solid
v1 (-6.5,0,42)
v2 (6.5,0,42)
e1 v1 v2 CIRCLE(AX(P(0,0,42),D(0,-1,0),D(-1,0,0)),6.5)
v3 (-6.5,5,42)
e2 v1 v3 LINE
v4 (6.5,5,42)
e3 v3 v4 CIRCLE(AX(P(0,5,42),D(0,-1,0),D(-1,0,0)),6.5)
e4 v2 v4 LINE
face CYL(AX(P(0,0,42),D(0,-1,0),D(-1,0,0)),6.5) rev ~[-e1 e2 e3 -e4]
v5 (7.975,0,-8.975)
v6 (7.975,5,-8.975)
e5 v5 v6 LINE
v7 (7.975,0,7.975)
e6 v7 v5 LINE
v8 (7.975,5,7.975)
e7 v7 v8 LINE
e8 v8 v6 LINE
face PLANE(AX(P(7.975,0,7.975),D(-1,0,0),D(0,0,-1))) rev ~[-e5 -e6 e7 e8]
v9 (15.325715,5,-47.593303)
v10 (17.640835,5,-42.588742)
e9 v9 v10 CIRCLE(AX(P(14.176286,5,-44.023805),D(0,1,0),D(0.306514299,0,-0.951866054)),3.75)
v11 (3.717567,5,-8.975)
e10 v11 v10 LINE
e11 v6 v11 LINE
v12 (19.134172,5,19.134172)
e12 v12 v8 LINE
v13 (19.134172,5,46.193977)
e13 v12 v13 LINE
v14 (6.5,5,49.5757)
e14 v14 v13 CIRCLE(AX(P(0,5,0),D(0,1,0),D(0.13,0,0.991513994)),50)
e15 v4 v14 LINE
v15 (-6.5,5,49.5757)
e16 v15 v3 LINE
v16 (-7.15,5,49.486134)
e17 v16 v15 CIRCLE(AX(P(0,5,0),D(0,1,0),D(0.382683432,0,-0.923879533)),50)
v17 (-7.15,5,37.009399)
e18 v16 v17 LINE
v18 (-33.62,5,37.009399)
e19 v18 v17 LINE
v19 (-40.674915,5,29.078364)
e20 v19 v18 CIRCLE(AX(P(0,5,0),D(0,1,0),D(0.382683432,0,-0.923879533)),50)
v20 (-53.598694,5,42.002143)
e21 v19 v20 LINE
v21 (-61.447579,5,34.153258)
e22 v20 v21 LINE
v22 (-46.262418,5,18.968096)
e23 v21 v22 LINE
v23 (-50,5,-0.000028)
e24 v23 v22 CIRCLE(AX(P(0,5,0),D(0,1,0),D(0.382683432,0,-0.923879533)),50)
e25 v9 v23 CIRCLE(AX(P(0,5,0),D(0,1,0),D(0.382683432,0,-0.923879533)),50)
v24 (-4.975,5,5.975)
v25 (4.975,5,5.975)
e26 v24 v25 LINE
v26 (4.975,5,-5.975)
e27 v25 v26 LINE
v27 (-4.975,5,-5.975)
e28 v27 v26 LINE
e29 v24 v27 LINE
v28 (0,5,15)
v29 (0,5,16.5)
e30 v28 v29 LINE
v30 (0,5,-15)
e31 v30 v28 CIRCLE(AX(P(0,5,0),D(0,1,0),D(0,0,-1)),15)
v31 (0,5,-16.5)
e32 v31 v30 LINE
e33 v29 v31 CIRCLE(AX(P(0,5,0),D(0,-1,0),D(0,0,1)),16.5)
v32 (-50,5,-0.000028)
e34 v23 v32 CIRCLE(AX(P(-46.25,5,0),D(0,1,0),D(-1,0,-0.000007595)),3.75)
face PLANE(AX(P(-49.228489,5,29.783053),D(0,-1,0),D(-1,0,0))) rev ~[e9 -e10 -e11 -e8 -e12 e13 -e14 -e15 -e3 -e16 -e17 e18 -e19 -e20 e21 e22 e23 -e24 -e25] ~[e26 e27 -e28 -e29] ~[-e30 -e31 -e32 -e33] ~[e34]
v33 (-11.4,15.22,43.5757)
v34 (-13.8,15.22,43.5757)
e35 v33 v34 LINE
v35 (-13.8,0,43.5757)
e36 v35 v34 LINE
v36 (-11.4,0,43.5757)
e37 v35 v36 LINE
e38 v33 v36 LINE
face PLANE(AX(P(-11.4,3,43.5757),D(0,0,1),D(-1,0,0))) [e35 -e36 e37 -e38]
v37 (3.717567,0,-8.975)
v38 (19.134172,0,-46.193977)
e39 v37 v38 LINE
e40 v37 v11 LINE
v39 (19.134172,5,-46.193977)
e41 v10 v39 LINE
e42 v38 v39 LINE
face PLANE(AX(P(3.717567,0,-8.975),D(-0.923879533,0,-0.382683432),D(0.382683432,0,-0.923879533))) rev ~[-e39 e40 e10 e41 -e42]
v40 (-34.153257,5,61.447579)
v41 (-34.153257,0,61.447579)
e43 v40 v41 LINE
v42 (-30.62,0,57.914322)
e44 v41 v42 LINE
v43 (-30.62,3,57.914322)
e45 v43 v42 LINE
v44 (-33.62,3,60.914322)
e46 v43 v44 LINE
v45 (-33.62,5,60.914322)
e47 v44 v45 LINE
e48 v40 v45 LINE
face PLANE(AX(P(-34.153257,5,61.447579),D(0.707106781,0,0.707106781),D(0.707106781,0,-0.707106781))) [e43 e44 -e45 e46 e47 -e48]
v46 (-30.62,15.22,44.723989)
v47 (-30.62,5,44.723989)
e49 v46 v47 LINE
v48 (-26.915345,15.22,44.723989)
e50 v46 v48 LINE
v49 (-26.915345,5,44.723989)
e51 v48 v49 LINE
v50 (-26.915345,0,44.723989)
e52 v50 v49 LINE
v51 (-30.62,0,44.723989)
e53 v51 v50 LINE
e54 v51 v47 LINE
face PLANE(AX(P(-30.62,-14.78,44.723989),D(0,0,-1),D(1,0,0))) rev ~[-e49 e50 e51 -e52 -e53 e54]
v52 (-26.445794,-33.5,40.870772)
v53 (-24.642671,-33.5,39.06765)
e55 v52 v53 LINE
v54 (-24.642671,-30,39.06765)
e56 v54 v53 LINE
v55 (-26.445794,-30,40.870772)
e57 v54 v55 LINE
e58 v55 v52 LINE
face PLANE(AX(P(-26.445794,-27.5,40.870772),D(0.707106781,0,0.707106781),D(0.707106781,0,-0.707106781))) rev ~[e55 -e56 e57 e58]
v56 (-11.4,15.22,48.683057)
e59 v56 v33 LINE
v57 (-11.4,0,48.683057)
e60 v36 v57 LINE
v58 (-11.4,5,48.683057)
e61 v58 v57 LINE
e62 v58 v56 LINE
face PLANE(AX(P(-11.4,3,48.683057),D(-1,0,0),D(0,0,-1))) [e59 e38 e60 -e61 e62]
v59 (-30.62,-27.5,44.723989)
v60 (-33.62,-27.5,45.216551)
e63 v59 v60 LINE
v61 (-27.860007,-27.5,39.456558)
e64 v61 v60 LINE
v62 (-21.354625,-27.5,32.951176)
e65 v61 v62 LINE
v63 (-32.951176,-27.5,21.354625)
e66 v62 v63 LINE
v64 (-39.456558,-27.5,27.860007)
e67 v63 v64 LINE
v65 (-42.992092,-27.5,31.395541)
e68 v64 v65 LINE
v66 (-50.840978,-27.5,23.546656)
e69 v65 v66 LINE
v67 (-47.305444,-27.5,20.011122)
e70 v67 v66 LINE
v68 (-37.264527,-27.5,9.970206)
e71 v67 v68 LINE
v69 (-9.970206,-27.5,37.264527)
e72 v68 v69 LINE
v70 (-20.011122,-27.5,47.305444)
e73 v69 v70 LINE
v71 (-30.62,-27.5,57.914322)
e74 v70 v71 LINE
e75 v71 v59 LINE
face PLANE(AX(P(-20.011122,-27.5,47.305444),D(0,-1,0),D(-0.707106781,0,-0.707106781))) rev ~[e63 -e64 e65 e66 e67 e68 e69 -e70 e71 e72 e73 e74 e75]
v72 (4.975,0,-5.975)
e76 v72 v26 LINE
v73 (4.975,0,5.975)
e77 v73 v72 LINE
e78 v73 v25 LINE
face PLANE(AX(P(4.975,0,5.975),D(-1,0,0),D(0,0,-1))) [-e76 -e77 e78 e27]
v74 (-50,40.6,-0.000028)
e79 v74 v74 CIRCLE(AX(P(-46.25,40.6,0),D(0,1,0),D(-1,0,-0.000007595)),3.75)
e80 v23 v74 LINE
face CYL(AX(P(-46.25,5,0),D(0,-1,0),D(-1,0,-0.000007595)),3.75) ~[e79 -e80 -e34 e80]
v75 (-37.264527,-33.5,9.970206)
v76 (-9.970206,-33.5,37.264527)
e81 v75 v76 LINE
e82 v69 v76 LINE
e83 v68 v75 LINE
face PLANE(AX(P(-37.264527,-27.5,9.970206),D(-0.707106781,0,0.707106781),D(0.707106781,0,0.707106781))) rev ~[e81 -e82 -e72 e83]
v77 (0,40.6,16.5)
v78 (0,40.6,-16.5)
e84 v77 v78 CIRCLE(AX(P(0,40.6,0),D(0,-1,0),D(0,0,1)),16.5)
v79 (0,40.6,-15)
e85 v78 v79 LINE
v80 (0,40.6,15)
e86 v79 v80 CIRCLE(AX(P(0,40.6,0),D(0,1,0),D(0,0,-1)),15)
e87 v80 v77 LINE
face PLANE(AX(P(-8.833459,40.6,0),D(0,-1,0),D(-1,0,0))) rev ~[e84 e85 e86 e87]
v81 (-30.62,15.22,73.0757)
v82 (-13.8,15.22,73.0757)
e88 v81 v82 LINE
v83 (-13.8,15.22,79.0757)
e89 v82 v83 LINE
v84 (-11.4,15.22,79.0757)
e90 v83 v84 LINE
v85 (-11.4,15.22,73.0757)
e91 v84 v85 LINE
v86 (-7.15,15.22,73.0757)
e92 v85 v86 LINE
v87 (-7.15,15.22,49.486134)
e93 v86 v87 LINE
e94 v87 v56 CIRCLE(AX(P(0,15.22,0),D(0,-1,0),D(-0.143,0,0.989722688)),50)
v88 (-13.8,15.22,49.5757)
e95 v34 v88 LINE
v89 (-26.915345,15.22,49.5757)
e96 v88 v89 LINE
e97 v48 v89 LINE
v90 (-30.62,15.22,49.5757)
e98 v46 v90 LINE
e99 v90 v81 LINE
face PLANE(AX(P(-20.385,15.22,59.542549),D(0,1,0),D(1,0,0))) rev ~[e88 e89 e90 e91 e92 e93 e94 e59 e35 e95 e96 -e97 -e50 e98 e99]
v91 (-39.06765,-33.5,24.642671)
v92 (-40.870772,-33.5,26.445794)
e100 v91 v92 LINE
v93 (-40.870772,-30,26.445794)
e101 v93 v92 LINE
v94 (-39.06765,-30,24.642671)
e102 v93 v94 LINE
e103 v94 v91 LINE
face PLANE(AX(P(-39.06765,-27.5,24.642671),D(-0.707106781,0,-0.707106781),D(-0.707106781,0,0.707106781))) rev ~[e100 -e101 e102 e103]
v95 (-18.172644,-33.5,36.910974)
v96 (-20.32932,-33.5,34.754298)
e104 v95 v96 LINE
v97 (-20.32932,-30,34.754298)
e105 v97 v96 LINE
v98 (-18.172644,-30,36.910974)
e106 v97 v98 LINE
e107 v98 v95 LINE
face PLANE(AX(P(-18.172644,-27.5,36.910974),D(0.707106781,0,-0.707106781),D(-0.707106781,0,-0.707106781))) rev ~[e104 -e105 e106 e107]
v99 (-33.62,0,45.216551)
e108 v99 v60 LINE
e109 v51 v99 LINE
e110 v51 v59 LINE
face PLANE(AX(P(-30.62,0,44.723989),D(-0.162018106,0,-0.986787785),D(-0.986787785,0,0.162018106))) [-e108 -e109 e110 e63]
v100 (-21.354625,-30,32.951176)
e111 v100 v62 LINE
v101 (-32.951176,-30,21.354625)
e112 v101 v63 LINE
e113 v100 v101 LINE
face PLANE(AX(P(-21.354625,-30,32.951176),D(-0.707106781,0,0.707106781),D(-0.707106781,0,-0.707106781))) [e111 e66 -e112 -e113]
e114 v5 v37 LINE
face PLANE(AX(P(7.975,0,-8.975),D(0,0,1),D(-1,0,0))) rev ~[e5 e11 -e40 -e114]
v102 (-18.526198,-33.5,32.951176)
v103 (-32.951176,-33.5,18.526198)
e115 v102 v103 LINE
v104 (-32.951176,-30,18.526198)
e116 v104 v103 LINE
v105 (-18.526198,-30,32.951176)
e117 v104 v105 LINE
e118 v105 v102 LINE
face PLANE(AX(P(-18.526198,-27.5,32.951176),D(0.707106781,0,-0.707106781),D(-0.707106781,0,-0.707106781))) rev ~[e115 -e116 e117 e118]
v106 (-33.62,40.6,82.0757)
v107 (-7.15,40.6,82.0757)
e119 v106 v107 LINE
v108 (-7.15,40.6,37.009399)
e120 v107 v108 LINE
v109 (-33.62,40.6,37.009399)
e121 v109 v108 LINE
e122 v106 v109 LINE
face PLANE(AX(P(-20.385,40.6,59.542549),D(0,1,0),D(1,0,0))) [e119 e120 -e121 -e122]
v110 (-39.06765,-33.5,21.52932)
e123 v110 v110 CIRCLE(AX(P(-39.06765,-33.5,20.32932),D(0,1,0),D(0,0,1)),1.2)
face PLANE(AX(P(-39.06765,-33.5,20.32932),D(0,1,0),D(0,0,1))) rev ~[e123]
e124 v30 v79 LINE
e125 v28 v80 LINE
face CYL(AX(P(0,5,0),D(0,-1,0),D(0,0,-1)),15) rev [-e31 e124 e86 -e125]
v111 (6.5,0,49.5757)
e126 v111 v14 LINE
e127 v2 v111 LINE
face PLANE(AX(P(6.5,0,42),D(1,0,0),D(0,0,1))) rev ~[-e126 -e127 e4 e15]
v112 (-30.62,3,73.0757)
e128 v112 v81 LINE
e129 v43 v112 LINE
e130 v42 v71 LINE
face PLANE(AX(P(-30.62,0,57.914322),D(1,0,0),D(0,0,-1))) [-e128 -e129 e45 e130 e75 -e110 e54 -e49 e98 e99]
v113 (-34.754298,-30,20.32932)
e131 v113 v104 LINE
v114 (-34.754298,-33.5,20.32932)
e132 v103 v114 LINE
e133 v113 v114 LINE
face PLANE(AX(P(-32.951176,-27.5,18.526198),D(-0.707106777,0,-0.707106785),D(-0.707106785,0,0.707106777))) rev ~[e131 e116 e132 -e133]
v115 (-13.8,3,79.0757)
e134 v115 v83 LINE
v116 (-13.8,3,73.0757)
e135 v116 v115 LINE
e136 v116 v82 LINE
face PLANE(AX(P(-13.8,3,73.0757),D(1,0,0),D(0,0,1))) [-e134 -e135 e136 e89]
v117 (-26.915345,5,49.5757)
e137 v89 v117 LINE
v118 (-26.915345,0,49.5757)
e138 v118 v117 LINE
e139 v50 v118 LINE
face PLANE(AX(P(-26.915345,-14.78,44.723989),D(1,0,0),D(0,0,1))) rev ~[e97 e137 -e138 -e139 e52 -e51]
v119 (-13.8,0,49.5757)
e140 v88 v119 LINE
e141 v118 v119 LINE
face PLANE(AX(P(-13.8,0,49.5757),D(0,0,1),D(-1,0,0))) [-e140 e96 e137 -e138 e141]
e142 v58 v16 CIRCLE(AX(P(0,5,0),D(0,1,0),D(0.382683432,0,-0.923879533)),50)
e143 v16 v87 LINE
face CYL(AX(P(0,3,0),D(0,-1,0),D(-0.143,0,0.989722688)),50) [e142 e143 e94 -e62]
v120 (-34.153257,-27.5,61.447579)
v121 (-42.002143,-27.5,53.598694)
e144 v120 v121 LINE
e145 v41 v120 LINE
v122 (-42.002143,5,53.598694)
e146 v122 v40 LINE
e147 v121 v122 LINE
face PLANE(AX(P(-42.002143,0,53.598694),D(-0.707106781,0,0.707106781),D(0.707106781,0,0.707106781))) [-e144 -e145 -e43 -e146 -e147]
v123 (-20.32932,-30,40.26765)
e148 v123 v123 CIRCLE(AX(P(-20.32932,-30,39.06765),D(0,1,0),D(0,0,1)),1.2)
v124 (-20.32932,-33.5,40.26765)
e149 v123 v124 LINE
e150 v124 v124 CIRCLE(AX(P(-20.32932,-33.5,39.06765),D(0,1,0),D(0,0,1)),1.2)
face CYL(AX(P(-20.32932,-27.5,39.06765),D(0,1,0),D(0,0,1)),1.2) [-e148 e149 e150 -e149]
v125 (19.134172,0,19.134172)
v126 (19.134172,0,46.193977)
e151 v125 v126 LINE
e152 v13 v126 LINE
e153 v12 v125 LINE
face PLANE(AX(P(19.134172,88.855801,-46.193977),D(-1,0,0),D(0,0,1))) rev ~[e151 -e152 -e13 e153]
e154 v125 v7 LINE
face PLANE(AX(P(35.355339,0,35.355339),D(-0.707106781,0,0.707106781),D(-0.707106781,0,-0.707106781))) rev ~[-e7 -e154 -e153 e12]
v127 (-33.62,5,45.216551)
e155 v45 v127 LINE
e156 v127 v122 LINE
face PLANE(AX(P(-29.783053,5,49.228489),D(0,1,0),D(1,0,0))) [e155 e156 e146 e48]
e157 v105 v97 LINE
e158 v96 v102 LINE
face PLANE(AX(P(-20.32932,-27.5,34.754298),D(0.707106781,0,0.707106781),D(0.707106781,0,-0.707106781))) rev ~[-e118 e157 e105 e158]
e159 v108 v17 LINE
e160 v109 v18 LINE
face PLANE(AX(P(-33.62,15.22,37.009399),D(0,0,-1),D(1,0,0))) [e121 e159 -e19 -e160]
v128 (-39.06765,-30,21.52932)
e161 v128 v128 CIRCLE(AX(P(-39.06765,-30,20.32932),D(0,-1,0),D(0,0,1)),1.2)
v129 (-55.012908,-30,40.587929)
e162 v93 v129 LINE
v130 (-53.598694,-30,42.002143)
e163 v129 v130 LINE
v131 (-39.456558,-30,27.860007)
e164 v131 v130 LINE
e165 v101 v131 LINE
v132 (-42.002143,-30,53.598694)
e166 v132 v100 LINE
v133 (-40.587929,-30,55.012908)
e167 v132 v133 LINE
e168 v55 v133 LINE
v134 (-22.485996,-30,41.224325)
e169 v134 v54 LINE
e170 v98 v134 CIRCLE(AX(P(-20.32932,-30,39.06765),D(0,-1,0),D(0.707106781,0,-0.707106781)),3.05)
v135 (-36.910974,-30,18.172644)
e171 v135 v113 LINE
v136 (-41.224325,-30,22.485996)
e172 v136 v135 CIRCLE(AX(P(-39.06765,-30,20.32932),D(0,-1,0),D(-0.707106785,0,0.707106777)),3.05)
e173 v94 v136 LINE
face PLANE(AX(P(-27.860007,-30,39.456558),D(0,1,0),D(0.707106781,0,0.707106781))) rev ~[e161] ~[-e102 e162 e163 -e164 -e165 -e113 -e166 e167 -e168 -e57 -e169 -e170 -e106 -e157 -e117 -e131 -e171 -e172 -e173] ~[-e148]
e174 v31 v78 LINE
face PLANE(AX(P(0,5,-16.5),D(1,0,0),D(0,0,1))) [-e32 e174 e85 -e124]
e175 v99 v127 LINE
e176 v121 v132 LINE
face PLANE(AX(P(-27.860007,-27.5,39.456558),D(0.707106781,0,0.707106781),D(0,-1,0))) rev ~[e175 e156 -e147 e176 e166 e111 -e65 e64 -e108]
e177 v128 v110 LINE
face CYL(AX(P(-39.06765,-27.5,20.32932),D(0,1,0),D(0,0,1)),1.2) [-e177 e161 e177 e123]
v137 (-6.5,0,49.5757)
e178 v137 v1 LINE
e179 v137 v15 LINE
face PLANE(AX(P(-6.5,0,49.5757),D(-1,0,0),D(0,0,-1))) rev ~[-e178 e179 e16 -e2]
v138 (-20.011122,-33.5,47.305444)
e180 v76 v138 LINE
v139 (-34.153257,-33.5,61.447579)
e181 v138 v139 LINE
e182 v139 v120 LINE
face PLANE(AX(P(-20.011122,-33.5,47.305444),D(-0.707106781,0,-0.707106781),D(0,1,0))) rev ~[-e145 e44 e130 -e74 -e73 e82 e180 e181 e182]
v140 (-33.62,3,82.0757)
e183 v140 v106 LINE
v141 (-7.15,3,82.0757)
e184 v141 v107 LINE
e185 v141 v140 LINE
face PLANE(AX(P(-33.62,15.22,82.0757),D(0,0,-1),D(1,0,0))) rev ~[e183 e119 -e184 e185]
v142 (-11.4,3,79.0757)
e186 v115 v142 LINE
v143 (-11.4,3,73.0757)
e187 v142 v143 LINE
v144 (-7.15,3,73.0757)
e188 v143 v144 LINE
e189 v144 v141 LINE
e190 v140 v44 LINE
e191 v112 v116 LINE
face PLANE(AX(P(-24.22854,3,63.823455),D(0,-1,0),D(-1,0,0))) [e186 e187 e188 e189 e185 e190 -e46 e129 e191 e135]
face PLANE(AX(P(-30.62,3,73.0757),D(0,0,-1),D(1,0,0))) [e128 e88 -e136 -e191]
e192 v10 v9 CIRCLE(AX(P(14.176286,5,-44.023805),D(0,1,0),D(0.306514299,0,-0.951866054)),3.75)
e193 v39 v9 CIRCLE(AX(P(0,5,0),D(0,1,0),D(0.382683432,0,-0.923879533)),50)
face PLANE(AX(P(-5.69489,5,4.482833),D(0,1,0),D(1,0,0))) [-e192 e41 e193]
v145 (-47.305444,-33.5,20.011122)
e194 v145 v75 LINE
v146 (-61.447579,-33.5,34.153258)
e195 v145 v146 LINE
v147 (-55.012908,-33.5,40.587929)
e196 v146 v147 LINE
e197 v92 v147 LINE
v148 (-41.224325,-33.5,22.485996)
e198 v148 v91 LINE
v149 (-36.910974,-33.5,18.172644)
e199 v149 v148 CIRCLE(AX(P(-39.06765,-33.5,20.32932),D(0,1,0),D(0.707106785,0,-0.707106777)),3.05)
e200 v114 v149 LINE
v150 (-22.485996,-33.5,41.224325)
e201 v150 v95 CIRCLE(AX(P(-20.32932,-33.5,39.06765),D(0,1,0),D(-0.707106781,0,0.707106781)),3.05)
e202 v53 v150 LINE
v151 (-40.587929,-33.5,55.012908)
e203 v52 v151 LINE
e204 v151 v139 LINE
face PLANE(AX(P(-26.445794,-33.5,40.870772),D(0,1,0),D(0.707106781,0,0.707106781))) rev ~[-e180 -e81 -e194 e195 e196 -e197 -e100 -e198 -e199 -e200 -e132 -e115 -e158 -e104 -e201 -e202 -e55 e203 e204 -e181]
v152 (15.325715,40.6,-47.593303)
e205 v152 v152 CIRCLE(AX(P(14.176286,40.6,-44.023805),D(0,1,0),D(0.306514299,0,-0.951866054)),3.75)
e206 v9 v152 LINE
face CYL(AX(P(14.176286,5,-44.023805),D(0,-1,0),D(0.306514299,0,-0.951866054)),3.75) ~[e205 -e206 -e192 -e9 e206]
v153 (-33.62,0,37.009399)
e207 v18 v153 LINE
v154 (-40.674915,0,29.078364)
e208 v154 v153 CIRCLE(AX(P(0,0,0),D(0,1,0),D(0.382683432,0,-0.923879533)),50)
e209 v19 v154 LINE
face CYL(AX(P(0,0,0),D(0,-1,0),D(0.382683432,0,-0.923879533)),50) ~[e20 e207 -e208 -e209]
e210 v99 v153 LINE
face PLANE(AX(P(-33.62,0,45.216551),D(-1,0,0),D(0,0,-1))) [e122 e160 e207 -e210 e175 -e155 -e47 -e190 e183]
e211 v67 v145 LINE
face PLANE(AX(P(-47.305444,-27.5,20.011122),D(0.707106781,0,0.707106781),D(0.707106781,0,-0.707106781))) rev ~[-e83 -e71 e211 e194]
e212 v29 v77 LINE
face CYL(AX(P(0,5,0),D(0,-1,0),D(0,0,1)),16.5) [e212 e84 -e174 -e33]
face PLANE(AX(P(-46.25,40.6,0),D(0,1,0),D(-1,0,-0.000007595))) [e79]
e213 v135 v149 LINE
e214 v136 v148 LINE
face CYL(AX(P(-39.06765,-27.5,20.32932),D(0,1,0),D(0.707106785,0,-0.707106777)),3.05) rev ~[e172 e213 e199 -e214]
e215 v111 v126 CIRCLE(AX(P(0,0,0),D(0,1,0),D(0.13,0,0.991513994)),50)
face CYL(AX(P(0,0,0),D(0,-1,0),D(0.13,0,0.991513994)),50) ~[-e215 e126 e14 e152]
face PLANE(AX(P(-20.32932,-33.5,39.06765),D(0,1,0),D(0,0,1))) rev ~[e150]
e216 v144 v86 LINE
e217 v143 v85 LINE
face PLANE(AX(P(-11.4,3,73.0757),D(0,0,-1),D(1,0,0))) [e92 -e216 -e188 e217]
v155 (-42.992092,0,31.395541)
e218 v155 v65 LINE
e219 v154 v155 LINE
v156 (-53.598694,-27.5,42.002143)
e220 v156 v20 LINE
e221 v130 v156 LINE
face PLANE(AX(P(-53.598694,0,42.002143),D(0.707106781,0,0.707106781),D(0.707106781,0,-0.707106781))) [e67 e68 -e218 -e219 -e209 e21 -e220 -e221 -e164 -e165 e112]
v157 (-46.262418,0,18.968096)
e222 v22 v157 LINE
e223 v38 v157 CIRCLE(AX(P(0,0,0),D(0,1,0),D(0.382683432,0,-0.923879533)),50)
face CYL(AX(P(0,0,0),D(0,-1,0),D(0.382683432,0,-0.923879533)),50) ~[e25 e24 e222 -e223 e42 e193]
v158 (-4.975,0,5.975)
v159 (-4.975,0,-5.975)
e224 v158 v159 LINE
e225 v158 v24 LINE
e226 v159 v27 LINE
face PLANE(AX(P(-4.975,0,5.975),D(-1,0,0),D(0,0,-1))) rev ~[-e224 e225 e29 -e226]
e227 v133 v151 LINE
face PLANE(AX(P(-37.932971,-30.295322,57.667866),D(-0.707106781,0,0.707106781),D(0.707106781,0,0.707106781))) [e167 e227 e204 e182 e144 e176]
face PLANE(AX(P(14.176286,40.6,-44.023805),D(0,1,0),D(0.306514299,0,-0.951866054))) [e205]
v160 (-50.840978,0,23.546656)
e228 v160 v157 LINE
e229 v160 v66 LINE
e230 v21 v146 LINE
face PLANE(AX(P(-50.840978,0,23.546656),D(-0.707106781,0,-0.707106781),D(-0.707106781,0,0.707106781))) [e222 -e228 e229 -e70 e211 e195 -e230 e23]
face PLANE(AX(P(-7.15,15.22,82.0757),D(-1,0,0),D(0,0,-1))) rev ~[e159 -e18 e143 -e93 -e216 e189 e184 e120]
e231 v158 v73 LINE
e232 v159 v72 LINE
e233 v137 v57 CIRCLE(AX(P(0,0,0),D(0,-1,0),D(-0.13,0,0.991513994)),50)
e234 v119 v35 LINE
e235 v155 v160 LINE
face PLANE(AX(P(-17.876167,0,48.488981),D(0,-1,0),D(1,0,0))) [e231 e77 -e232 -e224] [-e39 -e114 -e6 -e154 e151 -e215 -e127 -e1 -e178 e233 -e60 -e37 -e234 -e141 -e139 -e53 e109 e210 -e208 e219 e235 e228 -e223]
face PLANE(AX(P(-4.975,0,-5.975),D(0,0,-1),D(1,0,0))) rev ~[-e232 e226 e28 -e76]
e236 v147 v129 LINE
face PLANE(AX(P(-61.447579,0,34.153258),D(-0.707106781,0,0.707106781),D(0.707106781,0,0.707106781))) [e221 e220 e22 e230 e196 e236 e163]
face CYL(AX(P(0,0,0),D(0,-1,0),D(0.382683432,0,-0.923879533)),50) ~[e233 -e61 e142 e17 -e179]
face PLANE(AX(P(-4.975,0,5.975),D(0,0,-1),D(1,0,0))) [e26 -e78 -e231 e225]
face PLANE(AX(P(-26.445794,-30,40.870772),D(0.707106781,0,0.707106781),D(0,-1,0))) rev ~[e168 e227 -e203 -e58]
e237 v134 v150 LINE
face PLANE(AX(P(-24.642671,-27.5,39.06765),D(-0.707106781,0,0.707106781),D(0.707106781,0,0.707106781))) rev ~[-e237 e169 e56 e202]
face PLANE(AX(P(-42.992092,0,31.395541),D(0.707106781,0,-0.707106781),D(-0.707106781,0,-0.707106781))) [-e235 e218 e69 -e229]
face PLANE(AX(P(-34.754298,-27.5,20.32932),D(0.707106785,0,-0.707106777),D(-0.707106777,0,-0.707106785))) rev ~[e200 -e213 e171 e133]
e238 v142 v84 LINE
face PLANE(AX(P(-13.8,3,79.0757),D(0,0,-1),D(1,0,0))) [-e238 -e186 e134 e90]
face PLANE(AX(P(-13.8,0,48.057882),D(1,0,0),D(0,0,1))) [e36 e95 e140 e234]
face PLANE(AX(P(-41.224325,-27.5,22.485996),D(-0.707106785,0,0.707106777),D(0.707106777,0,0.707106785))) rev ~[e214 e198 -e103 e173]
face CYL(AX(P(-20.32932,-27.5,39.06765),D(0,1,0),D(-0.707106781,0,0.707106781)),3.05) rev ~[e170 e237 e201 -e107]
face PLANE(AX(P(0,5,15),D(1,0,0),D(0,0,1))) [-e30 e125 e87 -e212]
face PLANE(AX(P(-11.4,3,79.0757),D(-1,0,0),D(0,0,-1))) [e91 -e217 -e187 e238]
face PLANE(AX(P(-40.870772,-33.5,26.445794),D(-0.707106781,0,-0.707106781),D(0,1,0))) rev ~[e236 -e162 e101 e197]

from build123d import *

# Parameters (mm, degrees)
SKETCH1_W               = 9.95
SKETCH1_H               = 11.95
BOSS_EXTRUDE2_DEPTH     = 5
BOSS_EXTRUDE6_DEPTH     = 35.6
SKETCH8_R               = 3.75
BOSS_EXTRUDE8_DEPTH     = 35.6
BOSS_EXTRUDE9_DEPTH     = 12.22
CUT_EXTRUDE1_DEPTH      = 104.199711628
CUT_EXTRUDE1_DEPTH_BACK = 104.199711628
SKETCH10_W              = 26.47
SKETCH10_H              = 45.066300886
BOSS_EXTRUDE10_DEPTH    = 25.38
CUT_EXTRUDE2_DEPTH      = 104.199711628
CUT_EXTRUDE2_DEPTH_BACK = 12.22
SKETCH11_W              = 3.704655087
SKETCH11_H              = 4.851710635
SKETCH14_R              = 1.2
SKETCH14_R_2            = 1.199999993
BOSS_EXTRUDE11_DEPTH    = 2.5
BOSS_EXTRUDE12_DEPTH    = 6
SKETCH17_R              = 1.199999993
BOSS_EXTRUDE13_DEPTH    = 6
CUT_EXTRUDE3_DEPTH      = 122.35580118
CUT_EXTRUDE3_DEPTH_BACK = 122.35580118
SKETCH18_W              = 20
SKETCH18_H              = 100
BOSS_EXTRUDE14_DEPTH    = 20
BOSS_EXTRUDE15_DEPTH    = 5
CUT_EXTRUDE4_START      = 30
CUT_EXTRUDE4_DEPTH      = 30
BOSS_EXTRUDE16_START    = 3
BOSS_EXTRUDE16_DEPTH    = 3
BOSS_EXTRUDE17_START    = 3
BOSS_EXTRUDE17_DEPTH    = 3
BOSS_EXTRUDE18_DEPTH    = 27.5


with BuildPart() as part:
    # Sketch1 → Boss-Extrude2 (new body)
    with BuildSketch(Plane(origin=(0, 0, 0), x_dir=(1, 0, 0), z_dir=(0, 1, 0))):
        with BuildLine():
            Line((35.355339059, -35.355339059), (7.975, -7.975))
            Line((7.975, -7.975), (7.975, 8.975))
            Line((7.975, 8.975), (3.717566722, 8.975))
            Line((3.717566722, 8.975), (19.134171618, 46.193976626))
            ThreePointArc((19.134171618, 46.193976626), (-48.299723588, 12.928136036), (-6.5, -49.575699692))
            Line((-6.5, -49.575699692), (-6.5, -42))
            ThreePointArc((-6.5, -42), (0, -35.5), (6.5, -42))
            Line((6.5, -42), (6.5, -49.575699692))
            ThreePointArc((6.5, -49.575699692), (22.102534155, -44.84950372), (35.355339059, -35.355339059))
        make_face()
        Rectangle(SKETCH1_W, SKETCH1_H, mode=Mode.SUBTRACT)
    extrude(amount=BOSS_EXTRUDE2_DEPTH)

    # Sketch4 → Boss-Extrude6 (add)
    with BuildSketch(Plane(origin=(0, 5, 0), x_dir=(1, 0, 0), z_dir=(0, 1, 0))):
        with BuildLine():
            Line((0, 16.5), (0, 15))
            ThreePointArc((0, 15), (-15, 0), (0, -15))
            Line((0, -15), (0, -16.5))
            ThreePointArc((0, -16.5), (-16.5, 0), (0, 16.5))
        make_face()
    extrude(amount=BOSS_EXTRUDE6_DEPTH)

    # Sketch8 → Boss-Extrude8 (add)
    with BuildSketch(Plane(origin=(0, 5, 0), x_dir=(1, 0, 0), z_dir=(0, 1, 0))):
        with Locations(Location((14.176286342, 44.023804987, 0), (0, 0, 72.150709005))):
            Circle(SKETCH8_R)
        with Locations(Location((29.944361597, -35.247662455, 0), (0, 0, 45))):
            Circle(SKETCH8_R)
        with Locations(Location((-46.25, 0, 0), (0, 0, 179.999564815))):
            Circle(SKETCH8_R)
    extrude(amount=BOSS_EXTRUDE8_DEPTH)

    # Sketch9 → Boss-Extrude9 (add)
    with BuildSketch(Plane(origin=(0, 3, 0), x_dir=(-1, 0, 0), z_dir=(0, -1, 0))):
        with BuildLine():
            Line((11.4, -79.075699692), (11.4, -73.075699692))
            Line((11.4, -73.075699692), (7.15, -73.075699692))
            Line((7.15, -73.075699692), (7.15, -82.075699692))
            Line((7.15, -82.075699692), (33.62, -82.075699692))
            Line((33.62, -82.075699692), (33.62, -37.009398806))
            ThreePointArc((33.62, -37.009398806), (24.345047627, -43.67285949), (13.8, -48.057881768))
            Line((13.8, -48.057881768), (13.8, -49.575699692))
            Line((13.8, -49.575699692), (30.62, -49.575699692))
            Line((30.62, -49.575699692), (30.62, -73.075699692))
            Line((30.62, -73.075699692), (13.8, -73.075699692))
            Line((13.8, -73.075699692), (13.8, -79.075699692))
            Line((13.8, -79.075699692), (11.4, -79.075699692))
        make_face()
        with BuildLine():
            Line((7.15, -37.009398806), (7.15, -49.486134422))
            ThreePointArc((7.15, -49.486134422), (9.283687764, -49.130572371), (11.4, -48.683056601))
            Line((11.4, -48.683056601), (11.4, -43.575699692))
            Line((11.4, -43.575699692), (13.8, -43.575699692))
            Line((13.8, -43.575699692), (13.8, -48.057881768))
            ThreePointArc((13.8, -48.057881768), (24.345047627, -43.67285949), (33.62, -37.009398806))
            Line((33.62, -37.009398806), (7.15, -37.009398806))
        make_face()
    extrude(amount=-BOSS_EXTRUDE9_DEPTH)

    # Sketch9<3> → Cut-Extrude1 (cut, two sides: drawn at the far end of the back side and taken through both)
    with BuildSketch(Plane(origin=(0, 3, 0), x_dir=(-1, 0, 0), z_dir=(0, -1, 0)).offset(-CUT_EXTRUDE1_DEPTH_BACK)):
        with BuildLine():
            Line((7.15, -73.075699692), (11.4, -73.075699692))
            Line((11.4, -73.075699692), (11.4, -79.075699692))
            Line((11.4, -79.075699692), (13.8, -79.075699692))
            Line((13.8, -79.075699692), (13.8, -73.075699692))
            Line((13.8, -73.075699692), (30.62, -73.075699692))
            Line((30.62, -73.075699692), (30.62, -49.575699692))
            Line((30.62, -49.575699692), (13.8, -49.575699692))
            Line((13.8, -49.575699692), (13.8, -48.057881768))
            ThreePointArc((13.8, -48.057881768), (12.60387682, -48.38535201), (11.4, -48.683056601))
            Line((11.4, -48.683056601), (11.4, -49.575699692))
            Line((11.4, -49.575699692), (7.15, -49.575699692))
            Line((7.15, -49.575699692), (7.15, -73.075699692))
        make_face()
        with BuildLine():
            Line((11.4, -43.575699692), (11.4, -48.683056601))
            ThreePointArc((11.4, -48.683056601), (12.60387682, -48.38535201), (13.8, -48.057881768))
            Line((13.8, -48.057881768), (13.8, -43.575699692))
            Line((13.8, -43.575699692), (11.4, -43.575699692))
        make_face()
    extrude(amount=CUT_EXTRUDE1_DEPTH + CUT_EXTRUDE1_DEPTH_BACK, mode=Mode.SUBTRACT)

    # Sketch10 → Boss-Extrude10 (add)
    with BuildSketch(Plane(origin=(0, 15.22, 0), x_dir=(1, 0, 0), z_dir=(0, 1, 0))):
        with Locations((-20.385, -59.542549249)):
            Rectangle(SKETCH10_W, SKETCH10_H)
    extrude(amount=BOSS_EXTRUDE10_DEPTH)

    # Sketch11 → Cut-Extrude2 (cut, two sides: drawn at the far end of the back side and taken through both)
    with BuildSketch(Plane.XZ.offset(-3).offset(-CUT_EXTRUDE2_DEPTH_BACK)):
        with Locations((-28.767672457, 47.149844375)):
            Rectangle(SKETCH11_W, SKETCH11_H)
    extrude(amount=CUT_EXTRUDE2_DEPTH + CUT_EXTRUDE2_DEPTH_BACK, mode=Mode.SUBTRACT)

    # Sketch18 → Cut-Extrude3 (cut, two sides: drawn at the far end of the back side and taken through both)
    with BuildSketch(Plane.XZ.offset(33.5).offset(-CUT_EXTRUDE3_DEPTH_BACK)):
        with Locations((29.134171618, 3.806023374)):
            Rectangle(SKETCH18_W, SKETCH18_H)
    extrude(amount=CUT_EXTRUDE3_DEPTH + CUT_EXTRUDE3_DEPTH_BACK, mode=Mode.SUBTRACT)

    # Sketch20 → Boss-Extrude15 (add)
    with BuildSketch(Plane(origin=(0, 5, 0), x_dir=(1, 0, 0), z_dir=(0, 1, 0))):
        Polygon((-61.447579228, -34.153257501), (-44.858284064, -17.563962337), (-37.009398806, -25.412847595), (-53.59869397, -42.002142759), align=None)
        Polygon((-42.002142759, -53.59869397), (-34.153257487, -61.447579241), (-17.563962324, -44.858284077), (-25.412847595, -37.009398806), align=None)
    extrude(amount=-BOSS_EXTRUDE15_DEPTH)

    # Sketch21 → Cut-Extrude4 (cut)
    with BuildSketch(Plane.XZ.offset(-15.22).offset(CUT_EXTRUDE4_START)):
        with BuildLine():
            Line((-7.15, 49.486134422), (-7.15, 73.075699692))
            Line((-7.15, 73.075699692), (-11.4, 73.075699692))
            Line((-11.4, 73.075699692), (-11.4, 79.075699692))
            Line((-11.4, 79.075699692), (-13.8, 79.075699692))
            Line((-13.8, 79.075699692), (-13.8, 73.075699692))
            Line((-13.8, 73.075699692), (-30.62, 73.075699692))
            Line((-30.62, 73.075699692), (-30.62, 44.723989057))
            Line((-30.62, 44.723989057), (-26.915344913, 44.723989057))
            Line((-26.915344913, 44.723989057), (-26.915344913, 49.575699692))
            Line((-26.915344913, 49.575699692), (-13.8, 49.575699692))
            Line((-13.8, 49.575699692), (-13.8, 43.575699692))
            Line((-13.8, 43.575699692), (-11.4, 43.575699692))
            Line((-11.4, 43.575699692), (-11.4, 48.683056601))
            ThreePointArc((-11.4, 48.683056601), (-9.283687764, 49.130572371), (-7.15, 49.486134422))
        make_face()
    extrude(amount=-CUT_EXTRUDE4_DEPTH, mode=Mode.SUBTRACT)

    # Sketch22 → Boss-Extrude16 (add)
    with BuildSketch(Plane.XZ.offset(-3).offset(BOSS_EXTRUDE16_START)):
        with BuildLine():
            Line((-29.078364141, 40.674915352), (-33.62, 45.216551211))
            Line((-33.62, 45.216551211), (-33.62, 37.009398806))
            ThreePointArc((-33.62, 37.009398806), (-31.402710382, 38.908479547), (-29.078364141, 40.674915352))
        make_face()
    extrude(amount=-BOSS_EXTRUDE16_DEPTH)

    # Sketch23 → Boss-Extrude17 (add)
    with BuildSketch(Plane.XZ.offset(-3).offset(BOSS_EXTRUDE17_START)):
        with BuildLine():
            Line((-22.281377939, 49.575699692), (-18.968096289, 46.262418043))
            ThreePointArc((-18.968096289, 46.262418043), (-16.408624443, 47.23089078), (-13.8, 48.057881768))
            Line((-13.8, 48.057881768), (-13.8, 49.575699692))
            Line((-13.8, 49.575699692), (-22.281377939, 49.575699692))
        make_face()
    extrude(amount=-BOSS_EXTRUDE17_DEPTH)



with BuildPart() as body_2:
    # Sketch14 → Boss-Extrude11 (new body)
    with BuildSketch(Plane(origin=(0, -30, 0), x_dir=(-1, 0, 0), z_dir=(0, -1, 0))):
        with BuildLine():
            Line((24.642671324, -39.067649661), (26.445793573, -40.870771909))
            Line((26.445793573, -40.870771909), (27.860007135, -39.456558346))
            Line((27.860007135, -39.456558346), (21.354624748, -32.951175959))
            Line((21.354624748, -32.951175959), (32.951175959, -21.354624748))
            Line((32.951175959, -21.354624748), (39.456558346, -27.860007135))
            Line((39.456558346, -27.860007135), (40.870771909, -26.445793573))
            Line((40.870771909, -26.445793573), (39.067649617, -24.64267128))
            Line((39.067649617, -24.64267128), (41.224325286, -22.485995585))
            ThreePointArc((41.224325286, -22.485995585), (41.22432526, -18.17264422), (36.910973895, -18.172644246))
            Line((36.910973895, -18.172644246), (34.754298225, -20.329319941))
            Line((34.754298225, -20.329319941), (32.951175922, -18.52619766))
            Line((32.951175922, -18.52619766), (18.526197623, -32.951175959))
            Line((18.526197623, -32.951175959), (20.329319959, -34.754298295))
            Line((20.329319959, -34.754298295), (18.172644276, -36.910973978))
            ThreePointArc((18.172644276, -36.910973978), (18.172644276, -41.224325343), (22.485995642, -41.224325343))
            Line((22.485995642, -41.224325343), (24.642671324, -39.067649661))
        make_face()
        with Locations(Location((20.329319959, -39.067649661, 0), (0, 0, 90))):
            Circle(SKETCH14_R, mode=Mode.SUBTRACT)
        with Locations(Location((39.06764959, -20.329319915, 0), (0, 0, 90))):
            Circle(SKETCH14_R_2, mode=Mode.SUBTRACT)
    extrude(amount=-BOSS_EXTRUDE11_DEPTH)

    # Sketch15 → Boss-Extrude12 (add)
    with BuildSketch(Plane(origin=(0, -27.5, 0), x_dir=(1, 0, 0), z_dir=(0, 1, 0))):
        with BuildLine():
            Line((-40.870771909, -26.445793573), (-47.305443604, -20.011121877))
            Line((-47.305443604, -20.011121877), (-37.264527312, -9.970205584))
            Line((-37.264527312, -9.970205584), (-9.970205571, -37.264527325))
            Line((-9.970205571, -37.264527325), (-20.011121864, -47.305443618))
            Line((-20.011121864, -47.305443618), (-26.445793573, -40.870771909))
            Line((-26.445793573, -40.870771909), (-24.642671324, -39.067649661))
            Line((-24.642671324, -39.067649661), (-22.485995642, -41.224325343))
            ThreePointArc((-22.485995642, -41.224325343), (-18.172644276, -41.224325343), (-18.172644276, -36.910973978))
            Line((-18.172644276, -36.910973978), (-20.329319959, -34.754298295))
            Line((-20.329319959, -34.754298295), (-18.526197623, -32.951175959))
            Line((-18.526197623, -32.951175959), (-32.951175922, -18.52619766))
            Line((-32.951175922, -18.52619766), (-34.754298225, -20.329319941))
            Line((-34.754298225, -20.329319941), (-36.910973895, -18.172644246))
            ThreePointArc((-36.910973895, -18.172644246), (-41.22432526, -18.17264422), (-41.224325286, -22.485995585))
            Line((-41.224325286, -22.485995585), (-39.067649617, -24.64267128))
            Line((-39.067649617, -24.64267128), (-40.870771909, -26.445793573))
        make_face()
    extrude(amount=-BOSS_EXTRUDE12_DEPTH)

    # Sketch17 → Boss-Extrude13 (add)
    with BuildSketch(Plane(origin=(0, -27.5, 0), x_dir=(1, 0, 0), z_dir=(0, 1, 0))):
        with Locations(Location((-39.06764959, -20.329319915, 0), (0, 0, 270))):
            Circle(SKETCH17_R)
        with Locations(Location((-20.329319959, -39.067649661, 0), (0, 0, 270))):
            Circle(SKETCH17_R)
    extrude(amount=-BOSS_EXTRUDE13_DEPTH)

    # Sketch19 → Boss-Extrude14 (add)
    with BuildSketch(Plane(origin=(-33.658282741, 0, 33.658282741), x_dir=(0.7071067811865464, 0, 0.7071067811865488), z_dir=(-0.7071067811865488, 0, 0.7071067811865464))):
        Polygon((8.2, -30), (10.2, -30), (10.2, -33.5), (19.3, -33.5), (19.3, -27.5), (8.2, -27.5), align=None)
        Polygon((-10.2, -30), (-8.2, -30), (-8.2, -27.5), (-19.299999981, -27.5), (-19.299999981, -33.5), (-10.2, -33.5), align=None)
    extrude(amount=BOSS_EXTRUDE14_DEPTH)


with BuildPart() as part_1:
    add(part.part)

    add(body_2.part)  # Boss-Extrude18 merges body 2
    # Sketch24 → Boss-Extrude18 (add)
    with BuildSketch(Plane.XZ):
        Polygon((-61.447579228, 34.153257501), (-53.59869397, 42.002142759), (-42.992092252, 31.395541041), (-50.84097751, 23.546655783), align=None)
        Polygon((-34.153257487, 61.447579241), (-30.62, 57.914321754), (-30.62, 44.723989057), (-33.62, 45.216551211), (-42.002142759, 53.59869397), align=None)
    extrude(amount=BOSS_EXTRUDE18_DEPTH)


solid = part_1.part
